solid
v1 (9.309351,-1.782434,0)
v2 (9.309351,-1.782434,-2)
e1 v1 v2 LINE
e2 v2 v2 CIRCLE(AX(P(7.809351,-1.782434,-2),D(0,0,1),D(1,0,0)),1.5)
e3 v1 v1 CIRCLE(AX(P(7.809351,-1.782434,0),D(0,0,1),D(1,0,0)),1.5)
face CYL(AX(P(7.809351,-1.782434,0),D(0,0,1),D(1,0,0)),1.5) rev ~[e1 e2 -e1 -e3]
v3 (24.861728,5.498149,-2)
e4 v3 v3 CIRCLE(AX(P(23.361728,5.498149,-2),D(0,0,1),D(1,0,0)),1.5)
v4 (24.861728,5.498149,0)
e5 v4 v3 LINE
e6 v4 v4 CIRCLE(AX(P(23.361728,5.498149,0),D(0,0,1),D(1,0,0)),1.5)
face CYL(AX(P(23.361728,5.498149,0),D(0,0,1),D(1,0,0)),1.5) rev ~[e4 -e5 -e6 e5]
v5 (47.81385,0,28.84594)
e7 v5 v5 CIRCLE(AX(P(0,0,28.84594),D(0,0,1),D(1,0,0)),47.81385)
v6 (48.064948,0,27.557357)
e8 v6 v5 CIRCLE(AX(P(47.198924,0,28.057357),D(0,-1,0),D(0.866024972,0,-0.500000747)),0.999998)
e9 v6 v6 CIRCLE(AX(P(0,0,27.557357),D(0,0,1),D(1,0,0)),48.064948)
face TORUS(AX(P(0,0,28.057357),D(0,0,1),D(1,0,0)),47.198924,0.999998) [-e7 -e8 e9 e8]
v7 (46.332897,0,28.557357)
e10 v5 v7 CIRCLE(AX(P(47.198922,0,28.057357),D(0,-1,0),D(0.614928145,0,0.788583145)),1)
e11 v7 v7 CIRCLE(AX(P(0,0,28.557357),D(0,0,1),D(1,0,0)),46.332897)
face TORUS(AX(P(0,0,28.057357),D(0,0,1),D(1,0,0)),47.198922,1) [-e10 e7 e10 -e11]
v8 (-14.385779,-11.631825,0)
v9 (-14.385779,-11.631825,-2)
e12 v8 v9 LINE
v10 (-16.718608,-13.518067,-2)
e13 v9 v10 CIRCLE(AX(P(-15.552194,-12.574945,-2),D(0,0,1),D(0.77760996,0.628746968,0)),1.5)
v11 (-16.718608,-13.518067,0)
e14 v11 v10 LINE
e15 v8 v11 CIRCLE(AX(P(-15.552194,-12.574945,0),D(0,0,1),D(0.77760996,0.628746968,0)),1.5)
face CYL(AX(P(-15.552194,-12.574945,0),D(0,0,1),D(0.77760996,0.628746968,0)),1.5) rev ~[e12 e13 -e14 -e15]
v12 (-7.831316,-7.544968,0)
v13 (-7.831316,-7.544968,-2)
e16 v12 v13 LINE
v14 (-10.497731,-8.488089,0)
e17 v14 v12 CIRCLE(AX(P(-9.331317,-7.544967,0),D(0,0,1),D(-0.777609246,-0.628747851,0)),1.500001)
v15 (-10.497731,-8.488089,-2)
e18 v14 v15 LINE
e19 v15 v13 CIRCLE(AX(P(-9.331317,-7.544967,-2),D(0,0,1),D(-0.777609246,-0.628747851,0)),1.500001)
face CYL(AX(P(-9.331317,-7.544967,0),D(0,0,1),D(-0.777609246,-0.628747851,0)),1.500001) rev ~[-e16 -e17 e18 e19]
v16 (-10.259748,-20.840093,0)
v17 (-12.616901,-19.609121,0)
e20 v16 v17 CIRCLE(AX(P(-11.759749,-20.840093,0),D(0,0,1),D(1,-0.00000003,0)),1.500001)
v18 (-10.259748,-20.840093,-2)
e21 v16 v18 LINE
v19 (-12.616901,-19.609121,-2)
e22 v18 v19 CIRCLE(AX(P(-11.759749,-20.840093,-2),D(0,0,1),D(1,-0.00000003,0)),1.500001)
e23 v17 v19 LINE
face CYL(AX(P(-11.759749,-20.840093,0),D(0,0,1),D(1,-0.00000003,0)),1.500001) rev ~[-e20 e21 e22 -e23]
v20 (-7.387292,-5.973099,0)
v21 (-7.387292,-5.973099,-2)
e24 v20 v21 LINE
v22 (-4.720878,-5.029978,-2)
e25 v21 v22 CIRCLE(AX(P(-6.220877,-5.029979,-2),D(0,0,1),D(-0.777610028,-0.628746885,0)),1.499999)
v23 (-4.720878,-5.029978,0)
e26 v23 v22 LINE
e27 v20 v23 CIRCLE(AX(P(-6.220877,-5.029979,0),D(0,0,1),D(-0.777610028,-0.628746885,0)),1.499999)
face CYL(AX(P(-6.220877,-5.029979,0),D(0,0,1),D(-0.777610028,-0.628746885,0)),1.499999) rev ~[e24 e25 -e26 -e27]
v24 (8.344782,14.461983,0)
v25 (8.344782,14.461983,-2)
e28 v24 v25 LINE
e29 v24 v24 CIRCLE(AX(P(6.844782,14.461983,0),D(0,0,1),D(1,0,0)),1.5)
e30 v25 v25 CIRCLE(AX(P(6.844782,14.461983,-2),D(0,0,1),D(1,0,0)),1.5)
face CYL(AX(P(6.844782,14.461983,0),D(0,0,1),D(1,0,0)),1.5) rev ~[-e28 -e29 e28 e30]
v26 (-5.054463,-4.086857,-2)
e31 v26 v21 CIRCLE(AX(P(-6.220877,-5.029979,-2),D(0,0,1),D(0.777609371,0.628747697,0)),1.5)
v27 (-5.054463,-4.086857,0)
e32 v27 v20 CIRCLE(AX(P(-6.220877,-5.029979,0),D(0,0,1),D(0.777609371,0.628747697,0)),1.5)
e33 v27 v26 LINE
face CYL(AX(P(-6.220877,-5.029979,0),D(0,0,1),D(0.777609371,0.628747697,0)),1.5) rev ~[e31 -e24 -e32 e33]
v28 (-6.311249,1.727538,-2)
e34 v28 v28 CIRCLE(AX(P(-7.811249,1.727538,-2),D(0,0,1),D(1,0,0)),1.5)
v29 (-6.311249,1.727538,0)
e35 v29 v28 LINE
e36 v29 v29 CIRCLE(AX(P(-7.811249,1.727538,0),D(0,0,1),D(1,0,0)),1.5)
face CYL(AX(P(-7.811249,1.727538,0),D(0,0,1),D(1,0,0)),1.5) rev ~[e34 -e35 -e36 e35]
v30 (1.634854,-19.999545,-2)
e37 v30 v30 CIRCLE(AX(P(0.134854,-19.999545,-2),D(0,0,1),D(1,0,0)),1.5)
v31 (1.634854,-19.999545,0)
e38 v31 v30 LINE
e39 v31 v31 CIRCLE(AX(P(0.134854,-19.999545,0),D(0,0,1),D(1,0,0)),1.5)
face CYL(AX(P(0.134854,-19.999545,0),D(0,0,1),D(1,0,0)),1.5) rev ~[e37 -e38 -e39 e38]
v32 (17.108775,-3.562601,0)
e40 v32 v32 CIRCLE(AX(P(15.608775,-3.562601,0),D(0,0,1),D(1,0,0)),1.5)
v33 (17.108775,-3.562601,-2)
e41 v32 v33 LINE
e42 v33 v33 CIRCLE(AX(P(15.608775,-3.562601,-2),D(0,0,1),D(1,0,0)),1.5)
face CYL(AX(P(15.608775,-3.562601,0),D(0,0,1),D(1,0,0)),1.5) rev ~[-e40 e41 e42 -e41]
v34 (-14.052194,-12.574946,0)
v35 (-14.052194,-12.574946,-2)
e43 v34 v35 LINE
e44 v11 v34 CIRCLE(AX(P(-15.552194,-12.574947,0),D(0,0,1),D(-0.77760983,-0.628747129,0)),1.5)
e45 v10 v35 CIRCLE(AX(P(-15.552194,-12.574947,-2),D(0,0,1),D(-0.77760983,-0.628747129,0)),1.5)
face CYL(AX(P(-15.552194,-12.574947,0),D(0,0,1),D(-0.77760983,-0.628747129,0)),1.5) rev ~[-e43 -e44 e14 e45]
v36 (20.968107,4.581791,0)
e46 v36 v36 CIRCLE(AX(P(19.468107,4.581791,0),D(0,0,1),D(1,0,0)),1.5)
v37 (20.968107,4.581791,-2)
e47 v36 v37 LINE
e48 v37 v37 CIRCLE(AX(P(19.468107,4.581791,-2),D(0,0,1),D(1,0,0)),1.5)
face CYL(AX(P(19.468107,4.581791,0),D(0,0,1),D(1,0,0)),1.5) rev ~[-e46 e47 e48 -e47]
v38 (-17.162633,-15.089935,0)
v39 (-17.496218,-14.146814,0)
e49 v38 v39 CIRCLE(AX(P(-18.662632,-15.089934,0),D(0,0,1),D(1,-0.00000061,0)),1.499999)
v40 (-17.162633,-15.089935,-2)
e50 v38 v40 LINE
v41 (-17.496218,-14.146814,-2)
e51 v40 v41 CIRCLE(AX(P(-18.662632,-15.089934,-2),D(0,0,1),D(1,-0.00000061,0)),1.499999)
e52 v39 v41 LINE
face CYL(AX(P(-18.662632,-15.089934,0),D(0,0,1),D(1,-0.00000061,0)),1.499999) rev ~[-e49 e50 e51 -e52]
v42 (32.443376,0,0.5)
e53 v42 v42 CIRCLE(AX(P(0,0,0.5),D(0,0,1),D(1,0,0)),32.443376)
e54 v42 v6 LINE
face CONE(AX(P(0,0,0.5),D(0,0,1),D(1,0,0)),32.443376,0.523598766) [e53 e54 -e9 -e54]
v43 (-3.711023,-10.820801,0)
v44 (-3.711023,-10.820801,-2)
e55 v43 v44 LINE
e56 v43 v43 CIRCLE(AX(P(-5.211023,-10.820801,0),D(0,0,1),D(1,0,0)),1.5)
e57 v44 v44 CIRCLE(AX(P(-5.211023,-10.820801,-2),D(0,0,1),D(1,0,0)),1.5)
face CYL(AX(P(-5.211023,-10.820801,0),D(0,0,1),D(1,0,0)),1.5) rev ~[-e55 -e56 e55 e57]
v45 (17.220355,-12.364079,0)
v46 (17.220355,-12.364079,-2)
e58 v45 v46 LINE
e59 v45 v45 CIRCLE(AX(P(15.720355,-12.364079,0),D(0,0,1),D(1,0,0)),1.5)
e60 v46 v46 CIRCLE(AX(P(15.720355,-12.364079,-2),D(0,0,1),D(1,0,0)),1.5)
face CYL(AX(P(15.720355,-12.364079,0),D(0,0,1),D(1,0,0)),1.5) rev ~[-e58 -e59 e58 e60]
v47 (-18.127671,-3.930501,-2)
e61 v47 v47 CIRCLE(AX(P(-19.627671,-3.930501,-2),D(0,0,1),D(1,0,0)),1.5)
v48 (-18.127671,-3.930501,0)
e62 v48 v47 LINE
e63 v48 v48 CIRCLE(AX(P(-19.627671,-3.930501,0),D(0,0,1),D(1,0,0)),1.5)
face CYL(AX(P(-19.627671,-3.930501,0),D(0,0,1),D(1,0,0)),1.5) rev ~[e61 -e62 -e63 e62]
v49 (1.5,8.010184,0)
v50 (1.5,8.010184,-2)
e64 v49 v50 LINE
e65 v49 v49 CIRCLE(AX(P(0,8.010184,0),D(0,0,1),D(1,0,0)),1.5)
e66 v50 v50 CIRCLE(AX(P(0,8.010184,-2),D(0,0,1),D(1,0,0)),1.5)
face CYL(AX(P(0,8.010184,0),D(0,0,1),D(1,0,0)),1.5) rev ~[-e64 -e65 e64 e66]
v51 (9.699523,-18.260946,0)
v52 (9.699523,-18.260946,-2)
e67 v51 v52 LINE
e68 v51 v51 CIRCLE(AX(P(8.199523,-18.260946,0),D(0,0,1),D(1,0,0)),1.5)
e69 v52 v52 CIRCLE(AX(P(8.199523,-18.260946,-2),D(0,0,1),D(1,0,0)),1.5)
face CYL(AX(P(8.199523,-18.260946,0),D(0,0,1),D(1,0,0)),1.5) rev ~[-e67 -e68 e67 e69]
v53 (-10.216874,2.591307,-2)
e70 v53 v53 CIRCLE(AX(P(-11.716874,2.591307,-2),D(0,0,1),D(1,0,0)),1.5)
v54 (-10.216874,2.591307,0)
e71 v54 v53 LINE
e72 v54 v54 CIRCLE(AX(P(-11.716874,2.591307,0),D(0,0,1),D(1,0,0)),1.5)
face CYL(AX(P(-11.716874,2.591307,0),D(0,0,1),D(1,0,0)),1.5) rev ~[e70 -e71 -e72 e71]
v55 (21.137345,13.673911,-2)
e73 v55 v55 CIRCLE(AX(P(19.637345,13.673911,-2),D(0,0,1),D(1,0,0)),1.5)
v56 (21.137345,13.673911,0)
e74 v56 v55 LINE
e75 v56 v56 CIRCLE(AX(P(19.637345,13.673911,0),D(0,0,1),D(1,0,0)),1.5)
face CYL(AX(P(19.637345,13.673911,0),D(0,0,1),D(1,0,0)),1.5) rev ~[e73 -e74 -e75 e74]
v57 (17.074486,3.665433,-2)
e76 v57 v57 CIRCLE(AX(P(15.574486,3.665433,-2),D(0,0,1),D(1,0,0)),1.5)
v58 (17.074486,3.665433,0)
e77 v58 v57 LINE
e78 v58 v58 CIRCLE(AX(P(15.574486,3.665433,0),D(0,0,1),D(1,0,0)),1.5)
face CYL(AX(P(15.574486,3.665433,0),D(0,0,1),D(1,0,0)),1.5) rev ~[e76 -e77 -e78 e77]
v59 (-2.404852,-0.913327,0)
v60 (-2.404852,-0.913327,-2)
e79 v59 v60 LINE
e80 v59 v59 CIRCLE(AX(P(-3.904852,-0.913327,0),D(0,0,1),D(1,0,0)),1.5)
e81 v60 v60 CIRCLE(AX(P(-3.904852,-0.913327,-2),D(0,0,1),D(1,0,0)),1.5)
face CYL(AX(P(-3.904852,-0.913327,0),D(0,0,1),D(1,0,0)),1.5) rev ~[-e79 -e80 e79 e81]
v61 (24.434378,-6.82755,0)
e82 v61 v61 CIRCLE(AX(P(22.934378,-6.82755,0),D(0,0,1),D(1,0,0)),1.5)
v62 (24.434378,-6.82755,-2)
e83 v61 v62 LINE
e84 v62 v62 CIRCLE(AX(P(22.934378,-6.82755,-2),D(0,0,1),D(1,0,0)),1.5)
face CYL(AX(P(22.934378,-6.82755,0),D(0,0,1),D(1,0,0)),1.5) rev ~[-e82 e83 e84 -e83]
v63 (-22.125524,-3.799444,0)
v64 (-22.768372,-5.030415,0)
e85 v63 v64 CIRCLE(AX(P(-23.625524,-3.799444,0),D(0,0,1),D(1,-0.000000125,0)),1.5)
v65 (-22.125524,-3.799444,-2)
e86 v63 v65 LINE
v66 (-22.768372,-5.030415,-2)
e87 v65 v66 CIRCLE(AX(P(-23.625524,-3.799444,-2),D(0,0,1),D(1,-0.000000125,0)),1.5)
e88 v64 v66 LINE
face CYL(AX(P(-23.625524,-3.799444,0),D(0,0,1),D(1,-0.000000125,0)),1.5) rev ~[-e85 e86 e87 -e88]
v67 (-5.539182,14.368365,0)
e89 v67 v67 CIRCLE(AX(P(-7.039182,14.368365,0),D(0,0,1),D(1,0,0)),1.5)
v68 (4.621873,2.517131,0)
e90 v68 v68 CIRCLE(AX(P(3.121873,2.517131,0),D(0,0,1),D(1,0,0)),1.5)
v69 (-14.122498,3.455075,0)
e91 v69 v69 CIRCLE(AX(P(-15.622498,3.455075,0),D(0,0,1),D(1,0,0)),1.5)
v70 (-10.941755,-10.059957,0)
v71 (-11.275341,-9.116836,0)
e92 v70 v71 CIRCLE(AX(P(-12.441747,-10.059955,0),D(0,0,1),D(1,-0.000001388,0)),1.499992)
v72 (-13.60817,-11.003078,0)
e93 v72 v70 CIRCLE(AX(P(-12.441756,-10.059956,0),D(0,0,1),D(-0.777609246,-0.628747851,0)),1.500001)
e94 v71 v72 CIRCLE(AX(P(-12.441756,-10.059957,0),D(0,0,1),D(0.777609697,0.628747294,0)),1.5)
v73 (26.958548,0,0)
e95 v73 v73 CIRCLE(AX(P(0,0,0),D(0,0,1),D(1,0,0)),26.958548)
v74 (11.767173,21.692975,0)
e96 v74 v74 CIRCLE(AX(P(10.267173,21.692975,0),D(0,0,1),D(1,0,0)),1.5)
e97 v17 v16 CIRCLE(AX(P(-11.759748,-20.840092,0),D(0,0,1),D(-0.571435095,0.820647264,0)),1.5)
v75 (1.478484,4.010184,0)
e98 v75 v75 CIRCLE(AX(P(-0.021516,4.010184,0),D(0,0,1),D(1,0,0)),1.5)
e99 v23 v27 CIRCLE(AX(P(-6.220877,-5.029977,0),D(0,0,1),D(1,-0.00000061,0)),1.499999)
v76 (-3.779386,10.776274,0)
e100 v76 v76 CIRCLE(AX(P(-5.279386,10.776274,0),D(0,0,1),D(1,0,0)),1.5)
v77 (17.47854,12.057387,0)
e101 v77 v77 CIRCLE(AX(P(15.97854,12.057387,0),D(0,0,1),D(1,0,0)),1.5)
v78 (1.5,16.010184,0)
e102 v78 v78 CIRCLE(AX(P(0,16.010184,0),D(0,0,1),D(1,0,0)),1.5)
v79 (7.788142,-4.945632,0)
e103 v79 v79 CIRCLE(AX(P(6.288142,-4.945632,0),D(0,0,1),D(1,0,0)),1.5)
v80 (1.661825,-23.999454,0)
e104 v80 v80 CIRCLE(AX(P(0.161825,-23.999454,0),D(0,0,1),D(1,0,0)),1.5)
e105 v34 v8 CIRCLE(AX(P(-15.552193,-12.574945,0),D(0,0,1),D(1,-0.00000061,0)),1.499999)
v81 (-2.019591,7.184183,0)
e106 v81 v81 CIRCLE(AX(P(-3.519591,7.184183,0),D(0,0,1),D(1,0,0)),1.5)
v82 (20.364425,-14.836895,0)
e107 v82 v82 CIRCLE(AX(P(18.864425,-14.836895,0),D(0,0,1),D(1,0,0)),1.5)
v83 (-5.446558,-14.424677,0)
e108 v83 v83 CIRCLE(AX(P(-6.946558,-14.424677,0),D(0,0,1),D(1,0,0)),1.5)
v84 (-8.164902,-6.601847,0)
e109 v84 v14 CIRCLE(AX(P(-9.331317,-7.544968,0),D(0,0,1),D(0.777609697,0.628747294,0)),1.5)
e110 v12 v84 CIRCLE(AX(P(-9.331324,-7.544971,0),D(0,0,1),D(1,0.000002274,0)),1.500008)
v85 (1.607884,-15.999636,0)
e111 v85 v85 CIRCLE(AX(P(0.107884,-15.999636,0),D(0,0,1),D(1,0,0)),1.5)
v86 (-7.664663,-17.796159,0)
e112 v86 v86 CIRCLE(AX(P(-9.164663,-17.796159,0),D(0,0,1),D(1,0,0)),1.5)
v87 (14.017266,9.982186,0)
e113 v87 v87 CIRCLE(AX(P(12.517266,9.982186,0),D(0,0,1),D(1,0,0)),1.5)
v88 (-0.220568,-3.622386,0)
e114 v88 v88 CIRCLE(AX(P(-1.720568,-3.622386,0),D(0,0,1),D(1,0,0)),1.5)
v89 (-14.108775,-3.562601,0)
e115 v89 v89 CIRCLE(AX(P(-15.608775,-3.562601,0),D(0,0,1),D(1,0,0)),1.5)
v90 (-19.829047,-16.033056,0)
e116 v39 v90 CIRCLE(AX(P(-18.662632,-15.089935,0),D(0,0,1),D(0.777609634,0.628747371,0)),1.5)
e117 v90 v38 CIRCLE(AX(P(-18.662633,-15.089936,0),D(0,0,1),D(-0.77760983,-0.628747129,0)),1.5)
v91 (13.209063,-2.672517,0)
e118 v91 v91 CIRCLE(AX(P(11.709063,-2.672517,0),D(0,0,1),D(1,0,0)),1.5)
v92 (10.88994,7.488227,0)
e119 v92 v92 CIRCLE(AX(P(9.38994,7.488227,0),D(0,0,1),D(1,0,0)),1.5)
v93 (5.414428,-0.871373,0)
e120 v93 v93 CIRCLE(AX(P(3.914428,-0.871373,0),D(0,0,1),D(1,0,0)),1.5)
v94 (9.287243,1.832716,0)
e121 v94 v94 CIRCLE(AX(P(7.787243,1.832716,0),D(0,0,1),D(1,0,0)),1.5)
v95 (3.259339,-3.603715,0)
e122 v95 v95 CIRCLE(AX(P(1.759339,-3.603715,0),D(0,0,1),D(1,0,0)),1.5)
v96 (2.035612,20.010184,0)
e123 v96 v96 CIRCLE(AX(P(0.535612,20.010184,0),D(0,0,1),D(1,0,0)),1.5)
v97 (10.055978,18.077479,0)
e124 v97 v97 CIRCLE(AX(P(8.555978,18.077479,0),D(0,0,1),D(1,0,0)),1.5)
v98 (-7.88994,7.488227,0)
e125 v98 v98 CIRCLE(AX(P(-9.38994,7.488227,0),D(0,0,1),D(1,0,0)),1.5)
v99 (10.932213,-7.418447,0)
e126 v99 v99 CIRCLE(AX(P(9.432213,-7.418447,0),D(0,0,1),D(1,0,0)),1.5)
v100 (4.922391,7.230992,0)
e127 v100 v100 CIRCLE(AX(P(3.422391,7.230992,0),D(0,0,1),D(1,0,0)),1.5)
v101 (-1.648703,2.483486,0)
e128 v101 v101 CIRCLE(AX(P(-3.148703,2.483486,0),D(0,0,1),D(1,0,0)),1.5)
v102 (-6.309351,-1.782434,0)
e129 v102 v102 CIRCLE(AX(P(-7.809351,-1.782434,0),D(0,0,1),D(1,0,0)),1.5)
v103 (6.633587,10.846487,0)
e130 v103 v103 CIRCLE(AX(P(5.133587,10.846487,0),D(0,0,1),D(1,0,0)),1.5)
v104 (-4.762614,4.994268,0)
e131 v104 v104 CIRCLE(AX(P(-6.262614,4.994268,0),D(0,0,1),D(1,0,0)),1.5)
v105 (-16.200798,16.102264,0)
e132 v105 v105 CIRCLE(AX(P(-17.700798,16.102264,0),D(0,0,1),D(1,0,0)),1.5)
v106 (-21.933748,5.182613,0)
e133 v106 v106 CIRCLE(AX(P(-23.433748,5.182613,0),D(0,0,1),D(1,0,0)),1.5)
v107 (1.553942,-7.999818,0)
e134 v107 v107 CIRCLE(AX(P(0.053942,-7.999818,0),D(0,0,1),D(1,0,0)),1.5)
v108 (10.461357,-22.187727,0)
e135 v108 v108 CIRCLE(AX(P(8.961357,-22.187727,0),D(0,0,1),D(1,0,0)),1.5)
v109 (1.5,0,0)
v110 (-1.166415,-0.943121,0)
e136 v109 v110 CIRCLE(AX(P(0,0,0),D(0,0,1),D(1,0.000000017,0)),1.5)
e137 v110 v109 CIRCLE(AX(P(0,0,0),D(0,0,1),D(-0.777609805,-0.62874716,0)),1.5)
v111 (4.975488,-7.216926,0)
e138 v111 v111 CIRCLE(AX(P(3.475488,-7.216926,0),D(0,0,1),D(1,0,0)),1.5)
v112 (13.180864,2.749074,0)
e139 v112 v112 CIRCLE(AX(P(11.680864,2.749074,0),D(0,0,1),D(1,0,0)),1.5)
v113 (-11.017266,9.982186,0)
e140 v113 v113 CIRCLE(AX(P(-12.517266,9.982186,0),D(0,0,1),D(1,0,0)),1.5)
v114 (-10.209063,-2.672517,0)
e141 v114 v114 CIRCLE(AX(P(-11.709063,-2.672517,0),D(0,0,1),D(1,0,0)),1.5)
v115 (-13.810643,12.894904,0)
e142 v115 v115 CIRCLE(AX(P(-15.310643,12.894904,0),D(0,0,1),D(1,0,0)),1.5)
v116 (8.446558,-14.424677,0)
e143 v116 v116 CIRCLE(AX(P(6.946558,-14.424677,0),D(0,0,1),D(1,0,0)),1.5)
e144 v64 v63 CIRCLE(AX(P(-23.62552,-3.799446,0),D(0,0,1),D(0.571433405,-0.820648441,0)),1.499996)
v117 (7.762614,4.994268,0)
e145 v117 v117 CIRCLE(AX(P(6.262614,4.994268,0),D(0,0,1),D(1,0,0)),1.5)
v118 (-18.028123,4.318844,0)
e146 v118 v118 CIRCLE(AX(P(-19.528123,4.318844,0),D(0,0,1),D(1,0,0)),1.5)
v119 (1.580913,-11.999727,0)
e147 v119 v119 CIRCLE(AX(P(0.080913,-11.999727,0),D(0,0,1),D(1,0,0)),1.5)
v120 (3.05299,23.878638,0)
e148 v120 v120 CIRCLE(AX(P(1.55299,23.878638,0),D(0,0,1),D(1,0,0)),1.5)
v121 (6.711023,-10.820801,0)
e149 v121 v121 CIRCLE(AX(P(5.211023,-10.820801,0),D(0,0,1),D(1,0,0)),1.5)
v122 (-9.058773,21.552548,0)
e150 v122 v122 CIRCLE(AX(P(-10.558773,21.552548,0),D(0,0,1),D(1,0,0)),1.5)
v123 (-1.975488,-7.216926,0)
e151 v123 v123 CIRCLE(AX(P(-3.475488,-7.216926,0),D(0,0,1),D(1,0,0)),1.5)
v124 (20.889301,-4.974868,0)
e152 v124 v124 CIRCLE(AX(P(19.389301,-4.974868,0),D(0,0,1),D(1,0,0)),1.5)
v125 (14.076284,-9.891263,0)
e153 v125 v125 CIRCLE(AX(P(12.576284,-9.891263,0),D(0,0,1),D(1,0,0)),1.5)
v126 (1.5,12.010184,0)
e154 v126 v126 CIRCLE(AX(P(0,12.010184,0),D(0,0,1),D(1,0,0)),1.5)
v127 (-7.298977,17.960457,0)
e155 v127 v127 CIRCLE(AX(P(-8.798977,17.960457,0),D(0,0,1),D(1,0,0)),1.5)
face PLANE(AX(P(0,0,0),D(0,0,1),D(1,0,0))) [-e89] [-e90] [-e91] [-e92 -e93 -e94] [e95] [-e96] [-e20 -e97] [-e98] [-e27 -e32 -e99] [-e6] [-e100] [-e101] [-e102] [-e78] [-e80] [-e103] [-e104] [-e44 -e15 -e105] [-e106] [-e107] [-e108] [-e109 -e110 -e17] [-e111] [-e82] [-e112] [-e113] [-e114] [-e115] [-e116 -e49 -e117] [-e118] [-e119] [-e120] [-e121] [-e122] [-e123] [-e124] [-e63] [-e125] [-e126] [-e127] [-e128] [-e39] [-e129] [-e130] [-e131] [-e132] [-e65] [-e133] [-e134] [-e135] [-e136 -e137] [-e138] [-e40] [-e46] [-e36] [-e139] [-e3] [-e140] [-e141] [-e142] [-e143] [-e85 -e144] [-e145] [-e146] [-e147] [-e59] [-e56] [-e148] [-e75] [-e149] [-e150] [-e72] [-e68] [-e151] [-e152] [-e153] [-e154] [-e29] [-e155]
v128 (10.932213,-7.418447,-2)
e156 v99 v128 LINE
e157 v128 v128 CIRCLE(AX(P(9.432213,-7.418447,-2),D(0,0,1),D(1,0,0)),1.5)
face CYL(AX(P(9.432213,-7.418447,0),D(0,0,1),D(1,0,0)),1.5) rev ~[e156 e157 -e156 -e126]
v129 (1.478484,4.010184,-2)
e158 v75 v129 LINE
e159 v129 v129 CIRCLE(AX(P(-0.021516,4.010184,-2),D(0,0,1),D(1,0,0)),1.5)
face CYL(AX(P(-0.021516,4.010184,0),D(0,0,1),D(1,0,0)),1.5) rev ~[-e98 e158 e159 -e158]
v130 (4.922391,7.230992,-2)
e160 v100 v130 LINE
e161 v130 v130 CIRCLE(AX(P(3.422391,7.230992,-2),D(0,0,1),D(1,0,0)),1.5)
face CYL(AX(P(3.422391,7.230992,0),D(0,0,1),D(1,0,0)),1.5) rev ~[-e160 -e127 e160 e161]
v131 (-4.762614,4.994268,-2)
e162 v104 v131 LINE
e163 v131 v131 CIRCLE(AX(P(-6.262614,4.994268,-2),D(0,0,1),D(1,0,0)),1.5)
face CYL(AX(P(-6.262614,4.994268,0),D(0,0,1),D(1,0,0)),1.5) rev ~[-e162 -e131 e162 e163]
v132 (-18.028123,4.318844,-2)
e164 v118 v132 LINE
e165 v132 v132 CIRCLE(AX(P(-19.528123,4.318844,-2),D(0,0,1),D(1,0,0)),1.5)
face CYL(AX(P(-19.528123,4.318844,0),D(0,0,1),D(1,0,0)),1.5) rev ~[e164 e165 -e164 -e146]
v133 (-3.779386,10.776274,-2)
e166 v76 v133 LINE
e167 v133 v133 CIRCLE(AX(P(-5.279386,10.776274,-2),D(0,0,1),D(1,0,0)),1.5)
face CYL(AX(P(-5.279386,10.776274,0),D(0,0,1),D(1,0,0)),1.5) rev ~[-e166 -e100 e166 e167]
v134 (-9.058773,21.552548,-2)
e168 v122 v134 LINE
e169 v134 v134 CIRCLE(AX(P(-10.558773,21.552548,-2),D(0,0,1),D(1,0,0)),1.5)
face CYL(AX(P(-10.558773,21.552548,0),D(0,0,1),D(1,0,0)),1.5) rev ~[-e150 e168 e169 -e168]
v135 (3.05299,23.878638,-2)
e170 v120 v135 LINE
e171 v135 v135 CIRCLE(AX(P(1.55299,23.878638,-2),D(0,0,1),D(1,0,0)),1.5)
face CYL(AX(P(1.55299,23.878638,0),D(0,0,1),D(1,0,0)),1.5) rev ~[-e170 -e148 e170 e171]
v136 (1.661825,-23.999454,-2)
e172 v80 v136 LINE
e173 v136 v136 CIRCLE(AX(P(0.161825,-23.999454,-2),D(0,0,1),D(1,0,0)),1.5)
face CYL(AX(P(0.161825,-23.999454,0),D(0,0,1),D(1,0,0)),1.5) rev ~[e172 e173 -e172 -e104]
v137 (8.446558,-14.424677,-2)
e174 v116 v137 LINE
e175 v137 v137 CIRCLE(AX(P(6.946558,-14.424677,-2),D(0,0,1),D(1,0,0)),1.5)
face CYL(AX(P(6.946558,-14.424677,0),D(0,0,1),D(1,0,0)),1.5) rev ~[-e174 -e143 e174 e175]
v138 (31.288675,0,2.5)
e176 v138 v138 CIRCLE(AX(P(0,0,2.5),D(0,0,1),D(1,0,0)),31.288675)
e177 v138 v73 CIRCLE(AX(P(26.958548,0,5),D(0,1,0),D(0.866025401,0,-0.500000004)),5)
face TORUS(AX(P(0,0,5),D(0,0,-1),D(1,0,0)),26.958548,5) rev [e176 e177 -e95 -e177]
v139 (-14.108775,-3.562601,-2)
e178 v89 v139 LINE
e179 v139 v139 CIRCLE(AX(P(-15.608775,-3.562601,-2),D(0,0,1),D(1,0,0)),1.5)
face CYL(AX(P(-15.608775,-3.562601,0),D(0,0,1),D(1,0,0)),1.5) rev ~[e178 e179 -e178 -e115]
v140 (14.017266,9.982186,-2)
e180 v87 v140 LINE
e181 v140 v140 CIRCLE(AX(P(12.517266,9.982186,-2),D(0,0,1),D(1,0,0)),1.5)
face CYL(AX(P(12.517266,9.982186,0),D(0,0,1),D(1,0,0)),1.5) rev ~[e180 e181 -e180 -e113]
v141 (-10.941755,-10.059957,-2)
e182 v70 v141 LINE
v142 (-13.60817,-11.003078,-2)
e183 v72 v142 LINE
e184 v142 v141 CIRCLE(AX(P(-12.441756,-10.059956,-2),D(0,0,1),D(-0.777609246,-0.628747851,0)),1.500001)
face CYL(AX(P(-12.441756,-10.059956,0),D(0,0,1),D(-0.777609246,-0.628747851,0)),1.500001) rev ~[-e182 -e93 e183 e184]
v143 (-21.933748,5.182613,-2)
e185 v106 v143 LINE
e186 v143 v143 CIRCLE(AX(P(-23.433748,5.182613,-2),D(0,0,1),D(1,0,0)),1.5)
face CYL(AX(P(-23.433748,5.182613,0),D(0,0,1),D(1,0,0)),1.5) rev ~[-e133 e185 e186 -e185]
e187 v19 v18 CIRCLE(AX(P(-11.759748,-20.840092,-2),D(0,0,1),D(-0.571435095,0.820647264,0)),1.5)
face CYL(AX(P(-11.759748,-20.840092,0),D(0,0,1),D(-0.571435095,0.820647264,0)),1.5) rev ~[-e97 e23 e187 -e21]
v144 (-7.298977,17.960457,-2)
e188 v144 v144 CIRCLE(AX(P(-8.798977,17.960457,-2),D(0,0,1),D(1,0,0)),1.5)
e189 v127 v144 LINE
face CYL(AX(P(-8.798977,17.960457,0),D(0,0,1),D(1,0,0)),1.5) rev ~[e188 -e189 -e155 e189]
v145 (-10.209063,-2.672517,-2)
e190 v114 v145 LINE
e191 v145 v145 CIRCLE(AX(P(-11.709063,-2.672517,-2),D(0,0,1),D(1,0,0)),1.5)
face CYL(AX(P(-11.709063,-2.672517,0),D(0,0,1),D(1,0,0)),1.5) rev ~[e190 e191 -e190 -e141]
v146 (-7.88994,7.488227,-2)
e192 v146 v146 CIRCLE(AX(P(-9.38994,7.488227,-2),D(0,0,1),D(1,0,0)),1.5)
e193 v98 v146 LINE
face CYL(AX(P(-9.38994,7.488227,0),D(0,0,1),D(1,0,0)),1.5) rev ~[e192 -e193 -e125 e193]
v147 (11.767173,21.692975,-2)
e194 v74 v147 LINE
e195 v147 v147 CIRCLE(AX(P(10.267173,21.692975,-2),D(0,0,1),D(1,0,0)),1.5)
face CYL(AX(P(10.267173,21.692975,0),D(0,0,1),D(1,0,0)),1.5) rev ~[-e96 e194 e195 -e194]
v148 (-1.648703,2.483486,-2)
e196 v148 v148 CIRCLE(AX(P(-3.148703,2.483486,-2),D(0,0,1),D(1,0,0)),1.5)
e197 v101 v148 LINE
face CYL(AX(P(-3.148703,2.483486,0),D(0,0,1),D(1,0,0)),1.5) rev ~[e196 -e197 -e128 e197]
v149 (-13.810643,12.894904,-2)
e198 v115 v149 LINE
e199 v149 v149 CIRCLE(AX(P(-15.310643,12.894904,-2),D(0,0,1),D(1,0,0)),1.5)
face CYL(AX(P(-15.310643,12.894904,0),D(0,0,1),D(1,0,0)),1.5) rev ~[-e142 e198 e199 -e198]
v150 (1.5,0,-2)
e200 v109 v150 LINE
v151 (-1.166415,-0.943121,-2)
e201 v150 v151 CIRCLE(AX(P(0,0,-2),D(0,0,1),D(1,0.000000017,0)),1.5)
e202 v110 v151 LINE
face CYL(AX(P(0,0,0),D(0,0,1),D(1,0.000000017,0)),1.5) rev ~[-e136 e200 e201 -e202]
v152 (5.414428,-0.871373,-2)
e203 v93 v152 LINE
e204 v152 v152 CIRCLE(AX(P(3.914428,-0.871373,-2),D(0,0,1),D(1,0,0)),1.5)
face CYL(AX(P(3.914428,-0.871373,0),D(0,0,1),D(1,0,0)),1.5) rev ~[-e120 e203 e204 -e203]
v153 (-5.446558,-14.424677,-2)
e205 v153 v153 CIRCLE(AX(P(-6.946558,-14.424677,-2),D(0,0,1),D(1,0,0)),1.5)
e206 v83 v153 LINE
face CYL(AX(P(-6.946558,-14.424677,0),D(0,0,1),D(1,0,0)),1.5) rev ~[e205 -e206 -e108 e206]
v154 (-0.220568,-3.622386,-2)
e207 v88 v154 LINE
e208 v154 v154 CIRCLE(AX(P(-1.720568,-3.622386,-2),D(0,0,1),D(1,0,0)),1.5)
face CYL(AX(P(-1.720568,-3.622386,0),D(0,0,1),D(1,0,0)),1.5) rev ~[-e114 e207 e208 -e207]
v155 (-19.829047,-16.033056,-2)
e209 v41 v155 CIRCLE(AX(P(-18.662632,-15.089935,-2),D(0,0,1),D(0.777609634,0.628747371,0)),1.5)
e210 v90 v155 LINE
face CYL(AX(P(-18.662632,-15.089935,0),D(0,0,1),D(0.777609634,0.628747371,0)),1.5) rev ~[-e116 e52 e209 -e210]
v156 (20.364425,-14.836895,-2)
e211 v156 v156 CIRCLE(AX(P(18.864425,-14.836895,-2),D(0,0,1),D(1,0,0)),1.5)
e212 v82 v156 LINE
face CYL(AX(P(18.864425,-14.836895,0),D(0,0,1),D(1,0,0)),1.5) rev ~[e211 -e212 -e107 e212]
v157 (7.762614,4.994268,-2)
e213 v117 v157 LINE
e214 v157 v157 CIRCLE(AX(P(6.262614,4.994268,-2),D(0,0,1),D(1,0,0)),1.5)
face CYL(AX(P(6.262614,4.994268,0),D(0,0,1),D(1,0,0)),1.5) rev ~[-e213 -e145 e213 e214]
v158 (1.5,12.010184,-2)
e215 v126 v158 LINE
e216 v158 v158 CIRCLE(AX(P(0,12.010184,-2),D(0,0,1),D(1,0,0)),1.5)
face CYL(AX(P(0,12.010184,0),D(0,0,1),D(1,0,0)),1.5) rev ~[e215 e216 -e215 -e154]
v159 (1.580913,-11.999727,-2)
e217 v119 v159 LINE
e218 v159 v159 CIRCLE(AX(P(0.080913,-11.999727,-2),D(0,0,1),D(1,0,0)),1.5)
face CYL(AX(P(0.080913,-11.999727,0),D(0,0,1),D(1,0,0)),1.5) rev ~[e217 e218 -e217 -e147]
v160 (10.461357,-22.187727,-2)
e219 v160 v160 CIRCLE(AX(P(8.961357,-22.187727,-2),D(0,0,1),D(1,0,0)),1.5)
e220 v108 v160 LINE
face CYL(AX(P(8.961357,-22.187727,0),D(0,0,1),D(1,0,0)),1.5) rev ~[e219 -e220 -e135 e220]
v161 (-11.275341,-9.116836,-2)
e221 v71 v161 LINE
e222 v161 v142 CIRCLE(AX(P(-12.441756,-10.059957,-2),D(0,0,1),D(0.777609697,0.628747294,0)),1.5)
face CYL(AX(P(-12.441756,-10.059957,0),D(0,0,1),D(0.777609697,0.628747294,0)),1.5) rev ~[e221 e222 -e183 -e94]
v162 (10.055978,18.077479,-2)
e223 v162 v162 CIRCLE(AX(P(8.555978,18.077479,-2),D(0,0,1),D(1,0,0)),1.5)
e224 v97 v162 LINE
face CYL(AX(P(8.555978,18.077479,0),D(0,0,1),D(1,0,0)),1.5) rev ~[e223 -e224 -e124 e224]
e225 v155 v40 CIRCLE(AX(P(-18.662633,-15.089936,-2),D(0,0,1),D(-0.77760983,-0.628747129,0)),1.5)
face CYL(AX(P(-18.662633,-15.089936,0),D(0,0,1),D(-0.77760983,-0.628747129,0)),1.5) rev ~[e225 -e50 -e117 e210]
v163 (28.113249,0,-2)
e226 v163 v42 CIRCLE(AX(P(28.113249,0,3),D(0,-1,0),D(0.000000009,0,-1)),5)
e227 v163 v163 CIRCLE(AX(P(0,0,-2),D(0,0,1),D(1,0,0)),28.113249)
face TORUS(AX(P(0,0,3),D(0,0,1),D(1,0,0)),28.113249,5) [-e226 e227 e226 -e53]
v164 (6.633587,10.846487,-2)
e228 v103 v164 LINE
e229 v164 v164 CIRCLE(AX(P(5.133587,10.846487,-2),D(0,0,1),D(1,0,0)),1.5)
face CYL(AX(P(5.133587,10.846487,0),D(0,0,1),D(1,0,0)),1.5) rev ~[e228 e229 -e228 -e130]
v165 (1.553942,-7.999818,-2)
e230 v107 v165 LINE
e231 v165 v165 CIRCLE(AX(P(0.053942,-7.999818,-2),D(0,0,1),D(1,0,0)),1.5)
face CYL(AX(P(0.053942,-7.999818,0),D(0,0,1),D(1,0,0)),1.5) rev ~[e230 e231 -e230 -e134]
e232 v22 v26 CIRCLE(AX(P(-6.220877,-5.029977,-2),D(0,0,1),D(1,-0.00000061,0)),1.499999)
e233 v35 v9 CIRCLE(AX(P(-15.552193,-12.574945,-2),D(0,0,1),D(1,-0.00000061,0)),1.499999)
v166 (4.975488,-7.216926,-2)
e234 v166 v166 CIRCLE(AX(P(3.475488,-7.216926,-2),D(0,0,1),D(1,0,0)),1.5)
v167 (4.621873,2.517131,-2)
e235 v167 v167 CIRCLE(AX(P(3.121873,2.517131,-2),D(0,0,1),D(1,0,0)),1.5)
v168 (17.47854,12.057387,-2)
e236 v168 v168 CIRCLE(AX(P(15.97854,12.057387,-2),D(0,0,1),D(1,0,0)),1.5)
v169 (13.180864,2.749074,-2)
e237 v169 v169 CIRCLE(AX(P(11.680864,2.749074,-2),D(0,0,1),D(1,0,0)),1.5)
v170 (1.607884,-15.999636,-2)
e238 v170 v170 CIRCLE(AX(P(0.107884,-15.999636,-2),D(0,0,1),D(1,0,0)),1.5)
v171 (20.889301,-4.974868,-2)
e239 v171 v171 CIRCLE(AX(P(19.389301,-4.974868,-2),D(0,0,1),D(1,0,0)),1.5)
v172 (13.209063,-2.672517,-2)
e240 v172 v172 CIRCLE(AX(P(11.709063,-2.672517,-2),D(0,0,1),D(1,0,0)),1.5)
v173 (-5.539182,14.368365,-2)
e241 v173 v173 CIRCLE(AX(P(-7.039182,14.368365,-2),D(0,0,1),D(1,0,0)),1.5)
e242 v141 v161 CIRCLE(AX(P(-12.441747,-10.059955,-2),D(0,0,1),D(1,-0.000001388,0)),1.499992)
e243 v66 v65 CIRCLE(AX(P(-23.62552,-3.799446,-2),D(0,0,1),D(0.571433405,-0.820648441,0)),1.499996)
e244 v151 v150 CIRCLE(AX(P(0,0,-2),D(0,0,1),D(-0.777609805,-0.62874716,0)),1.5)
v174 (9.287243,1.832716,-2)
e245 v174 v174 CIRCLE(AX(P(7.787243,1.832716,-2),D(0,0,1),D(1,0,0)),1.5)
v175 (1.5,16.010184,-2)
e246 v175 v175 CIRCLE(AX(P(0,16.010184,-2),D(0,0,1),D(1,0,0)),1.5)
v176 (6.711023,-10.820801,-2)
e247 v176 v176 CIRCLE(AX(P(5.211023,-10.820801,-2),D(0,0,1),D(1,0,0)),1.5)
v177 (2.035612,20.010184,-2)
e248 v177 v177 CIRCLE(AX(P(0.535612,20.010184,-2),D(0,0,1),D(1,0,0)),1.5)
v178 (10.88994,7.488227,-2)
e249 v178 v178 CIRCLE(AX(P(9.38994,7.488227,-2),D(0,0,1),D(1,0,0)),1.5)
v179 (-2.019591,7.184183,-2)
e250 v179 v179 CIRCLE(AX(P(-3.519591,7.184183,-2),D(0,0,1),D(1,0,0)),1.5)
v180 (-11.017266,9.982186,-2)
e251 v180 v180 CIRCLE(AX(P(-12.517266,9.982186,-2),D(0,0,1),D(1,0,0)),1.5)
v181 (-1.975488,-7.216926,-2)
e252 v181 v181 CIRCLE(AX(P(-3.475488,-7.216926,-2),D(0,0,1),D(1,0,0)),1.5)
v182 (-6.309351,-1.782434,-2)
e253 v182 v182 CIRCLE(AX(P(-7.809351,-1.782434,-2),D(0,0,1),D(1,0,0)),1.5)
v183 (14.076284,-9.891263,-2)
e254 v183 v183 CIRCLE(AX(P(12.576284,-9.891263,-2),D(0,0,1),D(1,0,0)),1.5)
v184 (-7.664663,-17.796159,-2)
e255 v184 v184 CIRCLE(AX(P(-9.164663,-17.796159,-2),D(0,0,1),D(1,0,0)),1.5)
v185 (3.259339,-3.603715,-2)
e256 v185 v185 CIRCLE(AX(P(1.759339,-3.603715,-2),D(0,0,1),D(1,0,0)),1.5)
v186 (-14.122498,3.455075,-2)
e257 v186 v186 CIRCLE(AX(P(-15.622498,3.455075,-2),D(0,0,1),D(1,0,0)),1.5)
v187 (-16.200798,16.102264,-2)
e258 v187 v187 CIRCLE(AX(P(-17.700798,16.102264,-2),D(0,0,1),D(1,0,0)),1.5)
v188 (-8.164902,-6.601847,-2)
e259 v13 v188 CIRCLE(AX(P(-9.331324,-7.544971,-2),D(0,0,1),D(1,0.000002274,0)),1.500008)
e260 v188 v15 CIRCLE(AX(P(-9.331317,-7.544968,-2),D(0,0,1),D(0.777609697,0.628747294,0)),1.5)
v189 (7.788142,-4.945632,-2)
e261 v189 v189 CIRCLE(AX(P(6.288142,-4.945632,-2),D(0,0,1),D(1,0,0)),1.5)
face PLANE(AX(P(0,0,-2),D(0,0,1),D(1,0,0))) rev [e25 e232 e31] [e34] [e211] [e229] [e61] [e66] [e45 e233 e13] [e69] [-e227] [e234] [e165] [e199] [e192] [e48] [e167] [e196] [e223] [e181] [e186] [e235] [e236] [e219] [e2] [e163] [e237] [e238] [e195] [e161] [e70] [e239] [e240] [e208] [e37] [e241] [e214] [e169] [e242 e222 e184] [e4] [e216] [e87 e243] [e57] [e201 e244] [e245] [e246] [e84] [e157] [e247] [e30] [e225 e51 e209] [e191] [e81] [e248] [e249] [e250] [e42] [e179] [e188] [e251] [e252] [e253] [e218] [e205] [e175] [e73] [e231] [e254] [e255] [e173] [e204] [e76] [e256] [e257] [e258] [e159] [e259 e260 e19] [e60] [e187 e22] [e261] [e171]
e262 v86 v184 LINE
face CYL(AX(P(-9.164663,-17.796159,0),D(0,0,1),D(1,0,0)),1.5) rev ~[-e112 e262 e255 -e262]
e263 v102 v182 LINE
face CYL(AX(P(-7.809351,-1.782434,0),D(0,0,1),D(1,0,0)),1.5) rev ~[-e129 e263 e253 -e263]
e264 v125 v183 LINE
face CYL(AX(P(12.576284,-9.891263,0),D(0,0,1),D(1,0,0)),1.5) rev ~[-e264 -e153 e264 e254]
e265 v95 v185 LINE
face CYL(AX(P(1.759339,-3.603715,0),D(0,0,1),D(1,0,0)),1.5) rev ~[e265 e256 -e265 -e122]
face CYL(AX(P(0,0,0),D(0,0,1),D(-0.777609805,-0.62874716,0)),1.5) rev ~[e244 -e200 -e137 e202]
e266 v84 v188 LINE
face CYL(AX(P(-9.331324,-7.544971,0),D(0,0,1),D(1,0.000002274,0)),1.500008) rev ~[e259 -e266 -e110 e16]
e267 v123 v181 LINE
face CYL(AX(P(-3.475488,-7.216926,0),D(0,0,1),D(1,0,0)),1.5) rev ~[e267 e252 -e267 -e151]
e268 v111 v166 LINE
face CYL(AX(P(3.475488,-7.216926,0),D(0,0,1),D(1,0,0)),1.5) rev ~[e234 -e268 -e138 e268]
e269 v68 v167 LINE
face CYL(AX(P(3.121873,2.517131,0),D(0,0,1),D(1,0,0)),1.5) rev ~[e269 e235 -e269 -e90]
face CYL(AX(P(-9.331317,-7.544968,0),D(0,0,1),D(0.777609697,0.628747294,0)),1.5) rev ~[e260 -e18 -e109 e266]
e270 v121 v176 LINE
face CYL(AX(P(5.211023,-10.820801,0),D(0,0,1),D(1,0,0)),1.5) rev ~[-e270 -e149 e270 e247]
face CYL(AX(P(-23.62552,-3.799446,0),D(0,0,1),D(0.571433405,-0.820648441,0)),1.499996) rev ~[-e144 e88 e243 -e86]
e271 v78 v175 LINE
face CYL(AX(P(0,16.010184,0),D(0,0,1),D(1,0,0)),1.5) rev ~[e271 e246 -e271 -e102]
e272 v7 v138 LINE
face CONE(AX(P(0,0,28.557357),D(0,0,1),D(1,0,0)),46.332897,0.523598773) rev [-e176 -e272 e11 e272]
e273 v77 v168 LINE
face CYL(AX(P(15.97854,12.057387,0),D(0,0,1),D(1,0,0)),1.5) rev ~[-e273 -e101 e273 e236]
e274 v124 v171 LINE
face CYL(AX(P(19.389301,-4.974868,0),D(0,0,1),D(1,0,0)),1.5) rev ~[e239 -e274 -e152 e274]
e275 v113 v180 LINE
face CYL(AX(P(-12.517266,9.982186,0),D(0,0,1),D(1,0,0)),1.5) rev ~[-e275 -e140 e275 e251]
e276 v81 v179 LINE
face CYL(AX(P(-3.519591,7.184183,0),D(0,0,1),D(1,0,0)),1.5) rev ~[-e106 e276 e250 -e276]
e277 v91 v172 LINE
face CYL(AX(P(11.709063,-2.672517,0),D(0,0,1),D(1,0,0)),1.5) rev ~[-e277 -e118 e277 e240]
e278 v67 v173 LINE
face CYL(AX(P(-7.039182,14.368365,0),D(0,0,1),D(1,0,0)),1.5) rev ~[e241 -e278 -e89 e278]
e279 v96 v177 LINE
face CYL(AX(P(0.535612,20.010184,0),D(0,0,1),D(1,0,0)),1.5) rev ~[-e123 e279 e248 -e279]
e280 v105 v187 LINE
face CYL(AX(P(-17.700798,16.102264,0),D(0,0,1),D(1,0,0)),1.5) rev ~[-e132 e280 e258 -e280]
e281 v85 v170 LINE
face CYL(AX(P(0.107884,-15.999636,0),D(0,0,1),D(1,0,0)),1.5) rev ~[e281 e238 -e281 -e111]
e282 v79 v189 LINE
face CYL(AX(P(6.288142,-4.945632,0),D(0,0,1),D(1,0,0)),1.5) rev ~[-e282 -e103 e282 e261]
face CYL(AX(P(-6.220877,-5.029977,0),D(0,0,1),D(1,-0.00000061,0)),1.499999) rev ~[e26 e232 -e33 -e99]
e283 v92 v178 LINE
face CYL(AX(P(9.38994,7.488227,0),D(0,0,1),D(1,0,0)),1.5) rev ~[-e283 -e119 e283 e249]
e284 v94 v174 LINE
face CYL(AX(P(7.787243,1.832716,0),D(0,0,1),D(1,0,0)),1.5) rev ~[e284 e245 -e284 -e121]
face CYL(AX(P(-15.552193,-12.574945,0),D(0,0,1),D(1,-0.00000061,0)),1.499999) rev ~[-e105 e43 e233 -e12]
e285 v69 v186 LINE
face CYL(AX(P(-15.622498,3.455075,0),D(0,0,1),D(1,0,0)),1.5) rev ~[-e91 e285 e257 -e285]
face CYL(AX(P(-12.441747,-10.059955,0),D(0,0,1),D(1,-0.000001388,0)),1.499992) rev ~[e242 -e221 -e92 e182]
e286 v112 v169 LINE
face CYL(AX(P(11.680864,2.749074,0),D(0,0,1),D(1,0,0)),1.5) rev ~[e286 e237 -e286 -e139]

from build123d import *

# Parameters (mm, degrees)
F2_R     = 1.5
F3_DEPTH = 25


with BuildPart() as f1:
    # F0 (on Front) → F1 (revolve)
    with BuildSketch(Plane.XZ):
        with BuildLine():
            Line((26.958548, 0), (0, 0))
            Line((0, 0), (0, -2))
            Line((0, -2), (28.113249, -2))
            ThreePointArc((28.113249, -2), (30.613249, -1.330127), (32.443376, 0.5))
            Line((32.443376, 0.5), (48.064948, 27.557357))
            ThreePointArc((48.064948, 27.557357), (48.180461, 28.248623), (47.81385, 28.84594))
            ThreePointArc((47.81385, 28.84594), (47.007656, 29.038895), (46.332897, 28.557357))
            Line((46.332897, 28.557357), (31.288675, 2.5))
            ThreePointArc((31.288675, 2.5), (29.458548, 0.669873), (26.958548, 0))
        make_face()
    revolve(axis=Axis((0, 0, 22.936326), (0, 0, 1)))

    # F2 (on face) → F3 (cut)
    with BuildSketch(Plane.XY):
        with Locations((0.535612, 20.010184)):
            Circle(F2_R)
        with Locations((0, 16.010184)):
            Circle(F2_R)
        with Locations((0, 12.010184)):
            Circle(F2_R)
        with Locations((0, 8.010184)):
            Circle(F2_R)
        with Locations((-0.021516, 4.010184)):
            Circle(F2_R)
        with Locations((1.55299, 23.878638)):
            Circle(F2_R)
        with Locations((-3.148703, 2.483486)):
            Circle(F2_R)
        with Locations((-9.38994, 7.488227)):
            Circle(F2_R)
        with Locations((-6.262614, 4.994268)):
            Circle(F2_R)
        with Locations((-12.517266, 9.982186)):
            Circle(F2_R)
        with Locations((-15.310643, 12.894904)):
            Circle(F2_R)
        with Locations((-17.700798, 16.102264)):
            Circle(F2_R)
        with Locations((-3.904852, -0.913327)):
            Circle(F2_R)
        with Locations((-11.709063, -2.672517)):
            Circle(F2_R)
        with Locations((-7.809351, -1.782434)):
            Circle(F2_R)
        with Locations((-15.608775, -3.562601)):
            Circle(F2_R)
        with Locations((-19.627671, -3.930501)):
            Circle(F2_R)
        with BuildLine():
            ThreePointArc((-22.768372, -5.030415), (-22.295913, -4.493804), (-22.125524, -3.799444))
            ThreePointArc((-22.125524, -3.799444), (-24.955134, -3.105084), (-22.768372, -5.030415))
        make_face()
        with BuildLine():
            ThreePointArc((1.5, 0), (-0.500189, 1.414147), (-1.166415, -0.943121))
            ThreePointArc((-1.166415, -0.943121), (0.500189, -1.414147), (1.5, 0))
        make_face()
        with BuildLine():
            ThreePointArc((-5.054463, -4.086857), (-7.163998, -3.863564), (-7.387292, -5.973099))
            Line((-7.387292, -5.973099), (-5.054463, -4.086857))
        make_face()
        with BuildLine():
            Line((-5.054463, -4.086857), (-7.387292, -5.973099))
            ThreePointArc((-7.387292, -5.973099), (-5.720688, -6.444125), (-4.720878, -5.029978))
            ThreePointArc((-4.720878, -5.029978), (-4.806731, -4.529789), (-5.054463, -4.086857))
        make_face()
        with BuildLine():
            ThreePointArc((-8.164902, -6.601847), (-10.274437, -6.378553), (-10.497731, -8.488089))
            Line((-10.497731, -8.488089), (-8.164902, -6.601847))
        make_face()
        with BuildLine():
            Line((-8.164902, -6.601847), (-10.497731, -8.488089))
            ThreePointArc((-10.497731, -8.488089), (-8.831127, -8.959114), (-7.831316, -7.544968))
            ThreePointArc((-7.831316, -7.544968), (-7.91717, -7.044779), (-8.164902, -6.601847))
        make_face()
        with BuildLine():
            ThreePointArc((-11.275341, -9.116836), (-13.384876, -8.893542), (-13.60817, -11.003078))
            Line((-13.60817, -11.003078), (-11.275341, -9.116836))
        make_face()
        with BuildLine():
            Line((-11.275341, -9.116836), (-13.60817, -11.003078))
            ThreePointArc((-13.60817, -11.003078), (-11.941566, -11.474103), (-10.941755, -10.059957))
            ThreePointArc((-10.941755, -10.059957), (-11.027608, -9.559768), (-11.275341, -9.116836))
        make_face()
        with BuildLine():
            ThreePointArc((-14.385779, -11.631825), (-16.495315, -11.408531), (-16.718608, -13.518067))
            Line((-16.718608, -13.518067), (-14.385779, -11.631825))
        make_face()
        with BuildLine():
            Line((-14.385779, -11.631825), (-16.718608, -13.518067))
            ThreePointArc((-16.718608, -13.518067), (-15.052005, -13.989093), (-14.052194, -12.574946))
            ThreePointArc((-14.052194, -12.574946), (-14.138047, -12.074757), (-14.385779, -11.631825))
        make_face()
        with BuildLine():
            ThreePointArc((-10.259748, -20.840093), (-11.065388, -19.510482), (-12.616901, -19.609121))
            ThreePointArc((-12.616901, -19.609121), (-12.454108, -22.169703), (-10.259748, -20.840093))
        make_face()
        with BuildLine():
            ThreePointArc((-17.162633, -15.089935), (-17.248486, -14.589746), (-17.496218, -14.146814))
            Line((-17.496218, -14.146814), (-19.829047, -16.033056))
            ThreePointArc((-19.829047, -16.033056), (-18.162444, -16.504082), (-17.162633, -15.089935))
        make_face()
        with BuildLine():
            Line((-19.829047, -16.033056), (-17.496218, -14.146814))
            ThreePointArc((-17.496218, -14.146814), (-19.605754, -13.923521), (-19.829047, -16.033056))
        make_face()
        with Locations((-1.720568, -3.622386)):
            Circle(F2_R)
        with Locations((-5.211023, -10.820801)):
            Circle(F2_R)
        with Locations((-3.475488, -7.216926)):
            Circle(F2_R)
        with Locations((-6.946558, -14.424677)):
            Circle(F2_R)
        with Locations((-9.164663, -17.796159)):
            Circle(F2_R)
        with Locations((1.759339, -3.603715)):
            Circle(F2_R)
        with Locations((5.211023, -10.820801)):
            Circle(F2_R)
        with Locations((3.475488, -7.216926)):
            Circle(F2_R)
        with Locations((6.946558, -14.424677)):
            Circle(F2_R)
        with Locations((8.199523, -18.260946)):
            Circle(F2_R)
        with Locations((8.961357, -22.187727)):
            Circle(F2_R)
        with Locations((3.914428, -0.871373)):
            Circle(F2_R)
        with Locations((11.709063, -2.672517)):
            Circle(F2_R)
        with Locations((7.809351, -1.782434)):
            Circle(F2_R)
        with Locations((15.608775, -3.562601)):
            Circle(F2_R)
        with Locations((19.389301, -4.974868)):
            Circle(F2_R)
        with Locations((22.934378, -6.82755)):
            Circle(F2_R)
        with Locations((3.121873, 2.517131)):
            Circle(F2_R)
        with Locations((9.38994, 7.488227)):
            Circle(F2_R)
        with Locations((6.262614, 4.994268)):
            Circle(F2_R)
        with Locations((12.517266, 9.982186)):
            Circle(F2_R)
        with Locations((15.97854, 12.057387)):
            Circle(F2_R)
        with Locations((19.637345, 13.673911)):
            Circle(F2_R)
        with Locations((0.053942, -7.999818)):
            Circle(F2_R)
        with Locations((0.080913, -11.999727)):
            Circle(F2_R)
        with Locations((0.107884, -15.999636)):
            Circle(F2_R)
        with Locations((0.134854, -19.999545)):
            Circle(F2_R)
        with Locations((0.161825, -23.999454)):
            Circle(F2_R)
        with Locations((6.288142, -4.945632)):
            Circle(F2_R)
        with Locations((9.432213, -7.418447)):
            Circle(F2_R)
        with Locations((12.576284, -9.891263)):
            Circle(F2_R)
        with Locations((15.720355, -12.364079)):
            Circle(F2_R)
        with Locations((18.864425, -14.836895)):
            Circle(F2_R)
        with Locations((7.787243, 1.832716)):
            Circle(F2_R)
        with Locations((11.680864, 2.749074)):
            Circle(F2_R)
        with Locations((15.574486, 3.665433)):
            Circle(F2_R)
        with Locations((19.468107, 4.581791)):
            Circle(F2_R)
        with Locations((23.361728, 5.498149)):
            Circle(F2_R)
        with Locations((3.422391, 7.230992)):
            Circle(F2_R)
        with Locations((5.133587, 10.846487)):
            Circle(F2_R)
        with Locations((6.844782, 14.461983)):
            Circle(F2_R)
        with Locations((8.555978, 18.077479)):
            Circle(F2_R)
        with Locations((10.267173, 21.692975)):
            Circle(F2_R)
        with Locations((-3.519591, 7.184183)):
            Circle(F2_R)
        with Locations((-5.279386, 10.776274)):
            Circle(F2_R)
        with Locations((-7.039182, 14.368365)):
            Circle(F2_R)
        with Locations((-8.798977, 17.960457)):
            Circle(F2_R)
        with Locations((-10.558773, 21.552548)):
            Circle(F2_R)
        with Locations((-7.811249, 1.727538)):
            Circle(F2_R)
        with Locations((-11.716874, 2.591307)):
            Circle(F2_R)
        with Locations((-15.622498, 3.455075)):
            Circle(F2_R)
        with Locations((-19.528123, 4.318844)):
            Circle(F2_R)
        with Locations((-23.433748, 5.182613)):
            Circle(F2_R)
    extrude(amount=-F3_DEPTH, mode=Mode.SUBTRACT)


solid = f1.part
